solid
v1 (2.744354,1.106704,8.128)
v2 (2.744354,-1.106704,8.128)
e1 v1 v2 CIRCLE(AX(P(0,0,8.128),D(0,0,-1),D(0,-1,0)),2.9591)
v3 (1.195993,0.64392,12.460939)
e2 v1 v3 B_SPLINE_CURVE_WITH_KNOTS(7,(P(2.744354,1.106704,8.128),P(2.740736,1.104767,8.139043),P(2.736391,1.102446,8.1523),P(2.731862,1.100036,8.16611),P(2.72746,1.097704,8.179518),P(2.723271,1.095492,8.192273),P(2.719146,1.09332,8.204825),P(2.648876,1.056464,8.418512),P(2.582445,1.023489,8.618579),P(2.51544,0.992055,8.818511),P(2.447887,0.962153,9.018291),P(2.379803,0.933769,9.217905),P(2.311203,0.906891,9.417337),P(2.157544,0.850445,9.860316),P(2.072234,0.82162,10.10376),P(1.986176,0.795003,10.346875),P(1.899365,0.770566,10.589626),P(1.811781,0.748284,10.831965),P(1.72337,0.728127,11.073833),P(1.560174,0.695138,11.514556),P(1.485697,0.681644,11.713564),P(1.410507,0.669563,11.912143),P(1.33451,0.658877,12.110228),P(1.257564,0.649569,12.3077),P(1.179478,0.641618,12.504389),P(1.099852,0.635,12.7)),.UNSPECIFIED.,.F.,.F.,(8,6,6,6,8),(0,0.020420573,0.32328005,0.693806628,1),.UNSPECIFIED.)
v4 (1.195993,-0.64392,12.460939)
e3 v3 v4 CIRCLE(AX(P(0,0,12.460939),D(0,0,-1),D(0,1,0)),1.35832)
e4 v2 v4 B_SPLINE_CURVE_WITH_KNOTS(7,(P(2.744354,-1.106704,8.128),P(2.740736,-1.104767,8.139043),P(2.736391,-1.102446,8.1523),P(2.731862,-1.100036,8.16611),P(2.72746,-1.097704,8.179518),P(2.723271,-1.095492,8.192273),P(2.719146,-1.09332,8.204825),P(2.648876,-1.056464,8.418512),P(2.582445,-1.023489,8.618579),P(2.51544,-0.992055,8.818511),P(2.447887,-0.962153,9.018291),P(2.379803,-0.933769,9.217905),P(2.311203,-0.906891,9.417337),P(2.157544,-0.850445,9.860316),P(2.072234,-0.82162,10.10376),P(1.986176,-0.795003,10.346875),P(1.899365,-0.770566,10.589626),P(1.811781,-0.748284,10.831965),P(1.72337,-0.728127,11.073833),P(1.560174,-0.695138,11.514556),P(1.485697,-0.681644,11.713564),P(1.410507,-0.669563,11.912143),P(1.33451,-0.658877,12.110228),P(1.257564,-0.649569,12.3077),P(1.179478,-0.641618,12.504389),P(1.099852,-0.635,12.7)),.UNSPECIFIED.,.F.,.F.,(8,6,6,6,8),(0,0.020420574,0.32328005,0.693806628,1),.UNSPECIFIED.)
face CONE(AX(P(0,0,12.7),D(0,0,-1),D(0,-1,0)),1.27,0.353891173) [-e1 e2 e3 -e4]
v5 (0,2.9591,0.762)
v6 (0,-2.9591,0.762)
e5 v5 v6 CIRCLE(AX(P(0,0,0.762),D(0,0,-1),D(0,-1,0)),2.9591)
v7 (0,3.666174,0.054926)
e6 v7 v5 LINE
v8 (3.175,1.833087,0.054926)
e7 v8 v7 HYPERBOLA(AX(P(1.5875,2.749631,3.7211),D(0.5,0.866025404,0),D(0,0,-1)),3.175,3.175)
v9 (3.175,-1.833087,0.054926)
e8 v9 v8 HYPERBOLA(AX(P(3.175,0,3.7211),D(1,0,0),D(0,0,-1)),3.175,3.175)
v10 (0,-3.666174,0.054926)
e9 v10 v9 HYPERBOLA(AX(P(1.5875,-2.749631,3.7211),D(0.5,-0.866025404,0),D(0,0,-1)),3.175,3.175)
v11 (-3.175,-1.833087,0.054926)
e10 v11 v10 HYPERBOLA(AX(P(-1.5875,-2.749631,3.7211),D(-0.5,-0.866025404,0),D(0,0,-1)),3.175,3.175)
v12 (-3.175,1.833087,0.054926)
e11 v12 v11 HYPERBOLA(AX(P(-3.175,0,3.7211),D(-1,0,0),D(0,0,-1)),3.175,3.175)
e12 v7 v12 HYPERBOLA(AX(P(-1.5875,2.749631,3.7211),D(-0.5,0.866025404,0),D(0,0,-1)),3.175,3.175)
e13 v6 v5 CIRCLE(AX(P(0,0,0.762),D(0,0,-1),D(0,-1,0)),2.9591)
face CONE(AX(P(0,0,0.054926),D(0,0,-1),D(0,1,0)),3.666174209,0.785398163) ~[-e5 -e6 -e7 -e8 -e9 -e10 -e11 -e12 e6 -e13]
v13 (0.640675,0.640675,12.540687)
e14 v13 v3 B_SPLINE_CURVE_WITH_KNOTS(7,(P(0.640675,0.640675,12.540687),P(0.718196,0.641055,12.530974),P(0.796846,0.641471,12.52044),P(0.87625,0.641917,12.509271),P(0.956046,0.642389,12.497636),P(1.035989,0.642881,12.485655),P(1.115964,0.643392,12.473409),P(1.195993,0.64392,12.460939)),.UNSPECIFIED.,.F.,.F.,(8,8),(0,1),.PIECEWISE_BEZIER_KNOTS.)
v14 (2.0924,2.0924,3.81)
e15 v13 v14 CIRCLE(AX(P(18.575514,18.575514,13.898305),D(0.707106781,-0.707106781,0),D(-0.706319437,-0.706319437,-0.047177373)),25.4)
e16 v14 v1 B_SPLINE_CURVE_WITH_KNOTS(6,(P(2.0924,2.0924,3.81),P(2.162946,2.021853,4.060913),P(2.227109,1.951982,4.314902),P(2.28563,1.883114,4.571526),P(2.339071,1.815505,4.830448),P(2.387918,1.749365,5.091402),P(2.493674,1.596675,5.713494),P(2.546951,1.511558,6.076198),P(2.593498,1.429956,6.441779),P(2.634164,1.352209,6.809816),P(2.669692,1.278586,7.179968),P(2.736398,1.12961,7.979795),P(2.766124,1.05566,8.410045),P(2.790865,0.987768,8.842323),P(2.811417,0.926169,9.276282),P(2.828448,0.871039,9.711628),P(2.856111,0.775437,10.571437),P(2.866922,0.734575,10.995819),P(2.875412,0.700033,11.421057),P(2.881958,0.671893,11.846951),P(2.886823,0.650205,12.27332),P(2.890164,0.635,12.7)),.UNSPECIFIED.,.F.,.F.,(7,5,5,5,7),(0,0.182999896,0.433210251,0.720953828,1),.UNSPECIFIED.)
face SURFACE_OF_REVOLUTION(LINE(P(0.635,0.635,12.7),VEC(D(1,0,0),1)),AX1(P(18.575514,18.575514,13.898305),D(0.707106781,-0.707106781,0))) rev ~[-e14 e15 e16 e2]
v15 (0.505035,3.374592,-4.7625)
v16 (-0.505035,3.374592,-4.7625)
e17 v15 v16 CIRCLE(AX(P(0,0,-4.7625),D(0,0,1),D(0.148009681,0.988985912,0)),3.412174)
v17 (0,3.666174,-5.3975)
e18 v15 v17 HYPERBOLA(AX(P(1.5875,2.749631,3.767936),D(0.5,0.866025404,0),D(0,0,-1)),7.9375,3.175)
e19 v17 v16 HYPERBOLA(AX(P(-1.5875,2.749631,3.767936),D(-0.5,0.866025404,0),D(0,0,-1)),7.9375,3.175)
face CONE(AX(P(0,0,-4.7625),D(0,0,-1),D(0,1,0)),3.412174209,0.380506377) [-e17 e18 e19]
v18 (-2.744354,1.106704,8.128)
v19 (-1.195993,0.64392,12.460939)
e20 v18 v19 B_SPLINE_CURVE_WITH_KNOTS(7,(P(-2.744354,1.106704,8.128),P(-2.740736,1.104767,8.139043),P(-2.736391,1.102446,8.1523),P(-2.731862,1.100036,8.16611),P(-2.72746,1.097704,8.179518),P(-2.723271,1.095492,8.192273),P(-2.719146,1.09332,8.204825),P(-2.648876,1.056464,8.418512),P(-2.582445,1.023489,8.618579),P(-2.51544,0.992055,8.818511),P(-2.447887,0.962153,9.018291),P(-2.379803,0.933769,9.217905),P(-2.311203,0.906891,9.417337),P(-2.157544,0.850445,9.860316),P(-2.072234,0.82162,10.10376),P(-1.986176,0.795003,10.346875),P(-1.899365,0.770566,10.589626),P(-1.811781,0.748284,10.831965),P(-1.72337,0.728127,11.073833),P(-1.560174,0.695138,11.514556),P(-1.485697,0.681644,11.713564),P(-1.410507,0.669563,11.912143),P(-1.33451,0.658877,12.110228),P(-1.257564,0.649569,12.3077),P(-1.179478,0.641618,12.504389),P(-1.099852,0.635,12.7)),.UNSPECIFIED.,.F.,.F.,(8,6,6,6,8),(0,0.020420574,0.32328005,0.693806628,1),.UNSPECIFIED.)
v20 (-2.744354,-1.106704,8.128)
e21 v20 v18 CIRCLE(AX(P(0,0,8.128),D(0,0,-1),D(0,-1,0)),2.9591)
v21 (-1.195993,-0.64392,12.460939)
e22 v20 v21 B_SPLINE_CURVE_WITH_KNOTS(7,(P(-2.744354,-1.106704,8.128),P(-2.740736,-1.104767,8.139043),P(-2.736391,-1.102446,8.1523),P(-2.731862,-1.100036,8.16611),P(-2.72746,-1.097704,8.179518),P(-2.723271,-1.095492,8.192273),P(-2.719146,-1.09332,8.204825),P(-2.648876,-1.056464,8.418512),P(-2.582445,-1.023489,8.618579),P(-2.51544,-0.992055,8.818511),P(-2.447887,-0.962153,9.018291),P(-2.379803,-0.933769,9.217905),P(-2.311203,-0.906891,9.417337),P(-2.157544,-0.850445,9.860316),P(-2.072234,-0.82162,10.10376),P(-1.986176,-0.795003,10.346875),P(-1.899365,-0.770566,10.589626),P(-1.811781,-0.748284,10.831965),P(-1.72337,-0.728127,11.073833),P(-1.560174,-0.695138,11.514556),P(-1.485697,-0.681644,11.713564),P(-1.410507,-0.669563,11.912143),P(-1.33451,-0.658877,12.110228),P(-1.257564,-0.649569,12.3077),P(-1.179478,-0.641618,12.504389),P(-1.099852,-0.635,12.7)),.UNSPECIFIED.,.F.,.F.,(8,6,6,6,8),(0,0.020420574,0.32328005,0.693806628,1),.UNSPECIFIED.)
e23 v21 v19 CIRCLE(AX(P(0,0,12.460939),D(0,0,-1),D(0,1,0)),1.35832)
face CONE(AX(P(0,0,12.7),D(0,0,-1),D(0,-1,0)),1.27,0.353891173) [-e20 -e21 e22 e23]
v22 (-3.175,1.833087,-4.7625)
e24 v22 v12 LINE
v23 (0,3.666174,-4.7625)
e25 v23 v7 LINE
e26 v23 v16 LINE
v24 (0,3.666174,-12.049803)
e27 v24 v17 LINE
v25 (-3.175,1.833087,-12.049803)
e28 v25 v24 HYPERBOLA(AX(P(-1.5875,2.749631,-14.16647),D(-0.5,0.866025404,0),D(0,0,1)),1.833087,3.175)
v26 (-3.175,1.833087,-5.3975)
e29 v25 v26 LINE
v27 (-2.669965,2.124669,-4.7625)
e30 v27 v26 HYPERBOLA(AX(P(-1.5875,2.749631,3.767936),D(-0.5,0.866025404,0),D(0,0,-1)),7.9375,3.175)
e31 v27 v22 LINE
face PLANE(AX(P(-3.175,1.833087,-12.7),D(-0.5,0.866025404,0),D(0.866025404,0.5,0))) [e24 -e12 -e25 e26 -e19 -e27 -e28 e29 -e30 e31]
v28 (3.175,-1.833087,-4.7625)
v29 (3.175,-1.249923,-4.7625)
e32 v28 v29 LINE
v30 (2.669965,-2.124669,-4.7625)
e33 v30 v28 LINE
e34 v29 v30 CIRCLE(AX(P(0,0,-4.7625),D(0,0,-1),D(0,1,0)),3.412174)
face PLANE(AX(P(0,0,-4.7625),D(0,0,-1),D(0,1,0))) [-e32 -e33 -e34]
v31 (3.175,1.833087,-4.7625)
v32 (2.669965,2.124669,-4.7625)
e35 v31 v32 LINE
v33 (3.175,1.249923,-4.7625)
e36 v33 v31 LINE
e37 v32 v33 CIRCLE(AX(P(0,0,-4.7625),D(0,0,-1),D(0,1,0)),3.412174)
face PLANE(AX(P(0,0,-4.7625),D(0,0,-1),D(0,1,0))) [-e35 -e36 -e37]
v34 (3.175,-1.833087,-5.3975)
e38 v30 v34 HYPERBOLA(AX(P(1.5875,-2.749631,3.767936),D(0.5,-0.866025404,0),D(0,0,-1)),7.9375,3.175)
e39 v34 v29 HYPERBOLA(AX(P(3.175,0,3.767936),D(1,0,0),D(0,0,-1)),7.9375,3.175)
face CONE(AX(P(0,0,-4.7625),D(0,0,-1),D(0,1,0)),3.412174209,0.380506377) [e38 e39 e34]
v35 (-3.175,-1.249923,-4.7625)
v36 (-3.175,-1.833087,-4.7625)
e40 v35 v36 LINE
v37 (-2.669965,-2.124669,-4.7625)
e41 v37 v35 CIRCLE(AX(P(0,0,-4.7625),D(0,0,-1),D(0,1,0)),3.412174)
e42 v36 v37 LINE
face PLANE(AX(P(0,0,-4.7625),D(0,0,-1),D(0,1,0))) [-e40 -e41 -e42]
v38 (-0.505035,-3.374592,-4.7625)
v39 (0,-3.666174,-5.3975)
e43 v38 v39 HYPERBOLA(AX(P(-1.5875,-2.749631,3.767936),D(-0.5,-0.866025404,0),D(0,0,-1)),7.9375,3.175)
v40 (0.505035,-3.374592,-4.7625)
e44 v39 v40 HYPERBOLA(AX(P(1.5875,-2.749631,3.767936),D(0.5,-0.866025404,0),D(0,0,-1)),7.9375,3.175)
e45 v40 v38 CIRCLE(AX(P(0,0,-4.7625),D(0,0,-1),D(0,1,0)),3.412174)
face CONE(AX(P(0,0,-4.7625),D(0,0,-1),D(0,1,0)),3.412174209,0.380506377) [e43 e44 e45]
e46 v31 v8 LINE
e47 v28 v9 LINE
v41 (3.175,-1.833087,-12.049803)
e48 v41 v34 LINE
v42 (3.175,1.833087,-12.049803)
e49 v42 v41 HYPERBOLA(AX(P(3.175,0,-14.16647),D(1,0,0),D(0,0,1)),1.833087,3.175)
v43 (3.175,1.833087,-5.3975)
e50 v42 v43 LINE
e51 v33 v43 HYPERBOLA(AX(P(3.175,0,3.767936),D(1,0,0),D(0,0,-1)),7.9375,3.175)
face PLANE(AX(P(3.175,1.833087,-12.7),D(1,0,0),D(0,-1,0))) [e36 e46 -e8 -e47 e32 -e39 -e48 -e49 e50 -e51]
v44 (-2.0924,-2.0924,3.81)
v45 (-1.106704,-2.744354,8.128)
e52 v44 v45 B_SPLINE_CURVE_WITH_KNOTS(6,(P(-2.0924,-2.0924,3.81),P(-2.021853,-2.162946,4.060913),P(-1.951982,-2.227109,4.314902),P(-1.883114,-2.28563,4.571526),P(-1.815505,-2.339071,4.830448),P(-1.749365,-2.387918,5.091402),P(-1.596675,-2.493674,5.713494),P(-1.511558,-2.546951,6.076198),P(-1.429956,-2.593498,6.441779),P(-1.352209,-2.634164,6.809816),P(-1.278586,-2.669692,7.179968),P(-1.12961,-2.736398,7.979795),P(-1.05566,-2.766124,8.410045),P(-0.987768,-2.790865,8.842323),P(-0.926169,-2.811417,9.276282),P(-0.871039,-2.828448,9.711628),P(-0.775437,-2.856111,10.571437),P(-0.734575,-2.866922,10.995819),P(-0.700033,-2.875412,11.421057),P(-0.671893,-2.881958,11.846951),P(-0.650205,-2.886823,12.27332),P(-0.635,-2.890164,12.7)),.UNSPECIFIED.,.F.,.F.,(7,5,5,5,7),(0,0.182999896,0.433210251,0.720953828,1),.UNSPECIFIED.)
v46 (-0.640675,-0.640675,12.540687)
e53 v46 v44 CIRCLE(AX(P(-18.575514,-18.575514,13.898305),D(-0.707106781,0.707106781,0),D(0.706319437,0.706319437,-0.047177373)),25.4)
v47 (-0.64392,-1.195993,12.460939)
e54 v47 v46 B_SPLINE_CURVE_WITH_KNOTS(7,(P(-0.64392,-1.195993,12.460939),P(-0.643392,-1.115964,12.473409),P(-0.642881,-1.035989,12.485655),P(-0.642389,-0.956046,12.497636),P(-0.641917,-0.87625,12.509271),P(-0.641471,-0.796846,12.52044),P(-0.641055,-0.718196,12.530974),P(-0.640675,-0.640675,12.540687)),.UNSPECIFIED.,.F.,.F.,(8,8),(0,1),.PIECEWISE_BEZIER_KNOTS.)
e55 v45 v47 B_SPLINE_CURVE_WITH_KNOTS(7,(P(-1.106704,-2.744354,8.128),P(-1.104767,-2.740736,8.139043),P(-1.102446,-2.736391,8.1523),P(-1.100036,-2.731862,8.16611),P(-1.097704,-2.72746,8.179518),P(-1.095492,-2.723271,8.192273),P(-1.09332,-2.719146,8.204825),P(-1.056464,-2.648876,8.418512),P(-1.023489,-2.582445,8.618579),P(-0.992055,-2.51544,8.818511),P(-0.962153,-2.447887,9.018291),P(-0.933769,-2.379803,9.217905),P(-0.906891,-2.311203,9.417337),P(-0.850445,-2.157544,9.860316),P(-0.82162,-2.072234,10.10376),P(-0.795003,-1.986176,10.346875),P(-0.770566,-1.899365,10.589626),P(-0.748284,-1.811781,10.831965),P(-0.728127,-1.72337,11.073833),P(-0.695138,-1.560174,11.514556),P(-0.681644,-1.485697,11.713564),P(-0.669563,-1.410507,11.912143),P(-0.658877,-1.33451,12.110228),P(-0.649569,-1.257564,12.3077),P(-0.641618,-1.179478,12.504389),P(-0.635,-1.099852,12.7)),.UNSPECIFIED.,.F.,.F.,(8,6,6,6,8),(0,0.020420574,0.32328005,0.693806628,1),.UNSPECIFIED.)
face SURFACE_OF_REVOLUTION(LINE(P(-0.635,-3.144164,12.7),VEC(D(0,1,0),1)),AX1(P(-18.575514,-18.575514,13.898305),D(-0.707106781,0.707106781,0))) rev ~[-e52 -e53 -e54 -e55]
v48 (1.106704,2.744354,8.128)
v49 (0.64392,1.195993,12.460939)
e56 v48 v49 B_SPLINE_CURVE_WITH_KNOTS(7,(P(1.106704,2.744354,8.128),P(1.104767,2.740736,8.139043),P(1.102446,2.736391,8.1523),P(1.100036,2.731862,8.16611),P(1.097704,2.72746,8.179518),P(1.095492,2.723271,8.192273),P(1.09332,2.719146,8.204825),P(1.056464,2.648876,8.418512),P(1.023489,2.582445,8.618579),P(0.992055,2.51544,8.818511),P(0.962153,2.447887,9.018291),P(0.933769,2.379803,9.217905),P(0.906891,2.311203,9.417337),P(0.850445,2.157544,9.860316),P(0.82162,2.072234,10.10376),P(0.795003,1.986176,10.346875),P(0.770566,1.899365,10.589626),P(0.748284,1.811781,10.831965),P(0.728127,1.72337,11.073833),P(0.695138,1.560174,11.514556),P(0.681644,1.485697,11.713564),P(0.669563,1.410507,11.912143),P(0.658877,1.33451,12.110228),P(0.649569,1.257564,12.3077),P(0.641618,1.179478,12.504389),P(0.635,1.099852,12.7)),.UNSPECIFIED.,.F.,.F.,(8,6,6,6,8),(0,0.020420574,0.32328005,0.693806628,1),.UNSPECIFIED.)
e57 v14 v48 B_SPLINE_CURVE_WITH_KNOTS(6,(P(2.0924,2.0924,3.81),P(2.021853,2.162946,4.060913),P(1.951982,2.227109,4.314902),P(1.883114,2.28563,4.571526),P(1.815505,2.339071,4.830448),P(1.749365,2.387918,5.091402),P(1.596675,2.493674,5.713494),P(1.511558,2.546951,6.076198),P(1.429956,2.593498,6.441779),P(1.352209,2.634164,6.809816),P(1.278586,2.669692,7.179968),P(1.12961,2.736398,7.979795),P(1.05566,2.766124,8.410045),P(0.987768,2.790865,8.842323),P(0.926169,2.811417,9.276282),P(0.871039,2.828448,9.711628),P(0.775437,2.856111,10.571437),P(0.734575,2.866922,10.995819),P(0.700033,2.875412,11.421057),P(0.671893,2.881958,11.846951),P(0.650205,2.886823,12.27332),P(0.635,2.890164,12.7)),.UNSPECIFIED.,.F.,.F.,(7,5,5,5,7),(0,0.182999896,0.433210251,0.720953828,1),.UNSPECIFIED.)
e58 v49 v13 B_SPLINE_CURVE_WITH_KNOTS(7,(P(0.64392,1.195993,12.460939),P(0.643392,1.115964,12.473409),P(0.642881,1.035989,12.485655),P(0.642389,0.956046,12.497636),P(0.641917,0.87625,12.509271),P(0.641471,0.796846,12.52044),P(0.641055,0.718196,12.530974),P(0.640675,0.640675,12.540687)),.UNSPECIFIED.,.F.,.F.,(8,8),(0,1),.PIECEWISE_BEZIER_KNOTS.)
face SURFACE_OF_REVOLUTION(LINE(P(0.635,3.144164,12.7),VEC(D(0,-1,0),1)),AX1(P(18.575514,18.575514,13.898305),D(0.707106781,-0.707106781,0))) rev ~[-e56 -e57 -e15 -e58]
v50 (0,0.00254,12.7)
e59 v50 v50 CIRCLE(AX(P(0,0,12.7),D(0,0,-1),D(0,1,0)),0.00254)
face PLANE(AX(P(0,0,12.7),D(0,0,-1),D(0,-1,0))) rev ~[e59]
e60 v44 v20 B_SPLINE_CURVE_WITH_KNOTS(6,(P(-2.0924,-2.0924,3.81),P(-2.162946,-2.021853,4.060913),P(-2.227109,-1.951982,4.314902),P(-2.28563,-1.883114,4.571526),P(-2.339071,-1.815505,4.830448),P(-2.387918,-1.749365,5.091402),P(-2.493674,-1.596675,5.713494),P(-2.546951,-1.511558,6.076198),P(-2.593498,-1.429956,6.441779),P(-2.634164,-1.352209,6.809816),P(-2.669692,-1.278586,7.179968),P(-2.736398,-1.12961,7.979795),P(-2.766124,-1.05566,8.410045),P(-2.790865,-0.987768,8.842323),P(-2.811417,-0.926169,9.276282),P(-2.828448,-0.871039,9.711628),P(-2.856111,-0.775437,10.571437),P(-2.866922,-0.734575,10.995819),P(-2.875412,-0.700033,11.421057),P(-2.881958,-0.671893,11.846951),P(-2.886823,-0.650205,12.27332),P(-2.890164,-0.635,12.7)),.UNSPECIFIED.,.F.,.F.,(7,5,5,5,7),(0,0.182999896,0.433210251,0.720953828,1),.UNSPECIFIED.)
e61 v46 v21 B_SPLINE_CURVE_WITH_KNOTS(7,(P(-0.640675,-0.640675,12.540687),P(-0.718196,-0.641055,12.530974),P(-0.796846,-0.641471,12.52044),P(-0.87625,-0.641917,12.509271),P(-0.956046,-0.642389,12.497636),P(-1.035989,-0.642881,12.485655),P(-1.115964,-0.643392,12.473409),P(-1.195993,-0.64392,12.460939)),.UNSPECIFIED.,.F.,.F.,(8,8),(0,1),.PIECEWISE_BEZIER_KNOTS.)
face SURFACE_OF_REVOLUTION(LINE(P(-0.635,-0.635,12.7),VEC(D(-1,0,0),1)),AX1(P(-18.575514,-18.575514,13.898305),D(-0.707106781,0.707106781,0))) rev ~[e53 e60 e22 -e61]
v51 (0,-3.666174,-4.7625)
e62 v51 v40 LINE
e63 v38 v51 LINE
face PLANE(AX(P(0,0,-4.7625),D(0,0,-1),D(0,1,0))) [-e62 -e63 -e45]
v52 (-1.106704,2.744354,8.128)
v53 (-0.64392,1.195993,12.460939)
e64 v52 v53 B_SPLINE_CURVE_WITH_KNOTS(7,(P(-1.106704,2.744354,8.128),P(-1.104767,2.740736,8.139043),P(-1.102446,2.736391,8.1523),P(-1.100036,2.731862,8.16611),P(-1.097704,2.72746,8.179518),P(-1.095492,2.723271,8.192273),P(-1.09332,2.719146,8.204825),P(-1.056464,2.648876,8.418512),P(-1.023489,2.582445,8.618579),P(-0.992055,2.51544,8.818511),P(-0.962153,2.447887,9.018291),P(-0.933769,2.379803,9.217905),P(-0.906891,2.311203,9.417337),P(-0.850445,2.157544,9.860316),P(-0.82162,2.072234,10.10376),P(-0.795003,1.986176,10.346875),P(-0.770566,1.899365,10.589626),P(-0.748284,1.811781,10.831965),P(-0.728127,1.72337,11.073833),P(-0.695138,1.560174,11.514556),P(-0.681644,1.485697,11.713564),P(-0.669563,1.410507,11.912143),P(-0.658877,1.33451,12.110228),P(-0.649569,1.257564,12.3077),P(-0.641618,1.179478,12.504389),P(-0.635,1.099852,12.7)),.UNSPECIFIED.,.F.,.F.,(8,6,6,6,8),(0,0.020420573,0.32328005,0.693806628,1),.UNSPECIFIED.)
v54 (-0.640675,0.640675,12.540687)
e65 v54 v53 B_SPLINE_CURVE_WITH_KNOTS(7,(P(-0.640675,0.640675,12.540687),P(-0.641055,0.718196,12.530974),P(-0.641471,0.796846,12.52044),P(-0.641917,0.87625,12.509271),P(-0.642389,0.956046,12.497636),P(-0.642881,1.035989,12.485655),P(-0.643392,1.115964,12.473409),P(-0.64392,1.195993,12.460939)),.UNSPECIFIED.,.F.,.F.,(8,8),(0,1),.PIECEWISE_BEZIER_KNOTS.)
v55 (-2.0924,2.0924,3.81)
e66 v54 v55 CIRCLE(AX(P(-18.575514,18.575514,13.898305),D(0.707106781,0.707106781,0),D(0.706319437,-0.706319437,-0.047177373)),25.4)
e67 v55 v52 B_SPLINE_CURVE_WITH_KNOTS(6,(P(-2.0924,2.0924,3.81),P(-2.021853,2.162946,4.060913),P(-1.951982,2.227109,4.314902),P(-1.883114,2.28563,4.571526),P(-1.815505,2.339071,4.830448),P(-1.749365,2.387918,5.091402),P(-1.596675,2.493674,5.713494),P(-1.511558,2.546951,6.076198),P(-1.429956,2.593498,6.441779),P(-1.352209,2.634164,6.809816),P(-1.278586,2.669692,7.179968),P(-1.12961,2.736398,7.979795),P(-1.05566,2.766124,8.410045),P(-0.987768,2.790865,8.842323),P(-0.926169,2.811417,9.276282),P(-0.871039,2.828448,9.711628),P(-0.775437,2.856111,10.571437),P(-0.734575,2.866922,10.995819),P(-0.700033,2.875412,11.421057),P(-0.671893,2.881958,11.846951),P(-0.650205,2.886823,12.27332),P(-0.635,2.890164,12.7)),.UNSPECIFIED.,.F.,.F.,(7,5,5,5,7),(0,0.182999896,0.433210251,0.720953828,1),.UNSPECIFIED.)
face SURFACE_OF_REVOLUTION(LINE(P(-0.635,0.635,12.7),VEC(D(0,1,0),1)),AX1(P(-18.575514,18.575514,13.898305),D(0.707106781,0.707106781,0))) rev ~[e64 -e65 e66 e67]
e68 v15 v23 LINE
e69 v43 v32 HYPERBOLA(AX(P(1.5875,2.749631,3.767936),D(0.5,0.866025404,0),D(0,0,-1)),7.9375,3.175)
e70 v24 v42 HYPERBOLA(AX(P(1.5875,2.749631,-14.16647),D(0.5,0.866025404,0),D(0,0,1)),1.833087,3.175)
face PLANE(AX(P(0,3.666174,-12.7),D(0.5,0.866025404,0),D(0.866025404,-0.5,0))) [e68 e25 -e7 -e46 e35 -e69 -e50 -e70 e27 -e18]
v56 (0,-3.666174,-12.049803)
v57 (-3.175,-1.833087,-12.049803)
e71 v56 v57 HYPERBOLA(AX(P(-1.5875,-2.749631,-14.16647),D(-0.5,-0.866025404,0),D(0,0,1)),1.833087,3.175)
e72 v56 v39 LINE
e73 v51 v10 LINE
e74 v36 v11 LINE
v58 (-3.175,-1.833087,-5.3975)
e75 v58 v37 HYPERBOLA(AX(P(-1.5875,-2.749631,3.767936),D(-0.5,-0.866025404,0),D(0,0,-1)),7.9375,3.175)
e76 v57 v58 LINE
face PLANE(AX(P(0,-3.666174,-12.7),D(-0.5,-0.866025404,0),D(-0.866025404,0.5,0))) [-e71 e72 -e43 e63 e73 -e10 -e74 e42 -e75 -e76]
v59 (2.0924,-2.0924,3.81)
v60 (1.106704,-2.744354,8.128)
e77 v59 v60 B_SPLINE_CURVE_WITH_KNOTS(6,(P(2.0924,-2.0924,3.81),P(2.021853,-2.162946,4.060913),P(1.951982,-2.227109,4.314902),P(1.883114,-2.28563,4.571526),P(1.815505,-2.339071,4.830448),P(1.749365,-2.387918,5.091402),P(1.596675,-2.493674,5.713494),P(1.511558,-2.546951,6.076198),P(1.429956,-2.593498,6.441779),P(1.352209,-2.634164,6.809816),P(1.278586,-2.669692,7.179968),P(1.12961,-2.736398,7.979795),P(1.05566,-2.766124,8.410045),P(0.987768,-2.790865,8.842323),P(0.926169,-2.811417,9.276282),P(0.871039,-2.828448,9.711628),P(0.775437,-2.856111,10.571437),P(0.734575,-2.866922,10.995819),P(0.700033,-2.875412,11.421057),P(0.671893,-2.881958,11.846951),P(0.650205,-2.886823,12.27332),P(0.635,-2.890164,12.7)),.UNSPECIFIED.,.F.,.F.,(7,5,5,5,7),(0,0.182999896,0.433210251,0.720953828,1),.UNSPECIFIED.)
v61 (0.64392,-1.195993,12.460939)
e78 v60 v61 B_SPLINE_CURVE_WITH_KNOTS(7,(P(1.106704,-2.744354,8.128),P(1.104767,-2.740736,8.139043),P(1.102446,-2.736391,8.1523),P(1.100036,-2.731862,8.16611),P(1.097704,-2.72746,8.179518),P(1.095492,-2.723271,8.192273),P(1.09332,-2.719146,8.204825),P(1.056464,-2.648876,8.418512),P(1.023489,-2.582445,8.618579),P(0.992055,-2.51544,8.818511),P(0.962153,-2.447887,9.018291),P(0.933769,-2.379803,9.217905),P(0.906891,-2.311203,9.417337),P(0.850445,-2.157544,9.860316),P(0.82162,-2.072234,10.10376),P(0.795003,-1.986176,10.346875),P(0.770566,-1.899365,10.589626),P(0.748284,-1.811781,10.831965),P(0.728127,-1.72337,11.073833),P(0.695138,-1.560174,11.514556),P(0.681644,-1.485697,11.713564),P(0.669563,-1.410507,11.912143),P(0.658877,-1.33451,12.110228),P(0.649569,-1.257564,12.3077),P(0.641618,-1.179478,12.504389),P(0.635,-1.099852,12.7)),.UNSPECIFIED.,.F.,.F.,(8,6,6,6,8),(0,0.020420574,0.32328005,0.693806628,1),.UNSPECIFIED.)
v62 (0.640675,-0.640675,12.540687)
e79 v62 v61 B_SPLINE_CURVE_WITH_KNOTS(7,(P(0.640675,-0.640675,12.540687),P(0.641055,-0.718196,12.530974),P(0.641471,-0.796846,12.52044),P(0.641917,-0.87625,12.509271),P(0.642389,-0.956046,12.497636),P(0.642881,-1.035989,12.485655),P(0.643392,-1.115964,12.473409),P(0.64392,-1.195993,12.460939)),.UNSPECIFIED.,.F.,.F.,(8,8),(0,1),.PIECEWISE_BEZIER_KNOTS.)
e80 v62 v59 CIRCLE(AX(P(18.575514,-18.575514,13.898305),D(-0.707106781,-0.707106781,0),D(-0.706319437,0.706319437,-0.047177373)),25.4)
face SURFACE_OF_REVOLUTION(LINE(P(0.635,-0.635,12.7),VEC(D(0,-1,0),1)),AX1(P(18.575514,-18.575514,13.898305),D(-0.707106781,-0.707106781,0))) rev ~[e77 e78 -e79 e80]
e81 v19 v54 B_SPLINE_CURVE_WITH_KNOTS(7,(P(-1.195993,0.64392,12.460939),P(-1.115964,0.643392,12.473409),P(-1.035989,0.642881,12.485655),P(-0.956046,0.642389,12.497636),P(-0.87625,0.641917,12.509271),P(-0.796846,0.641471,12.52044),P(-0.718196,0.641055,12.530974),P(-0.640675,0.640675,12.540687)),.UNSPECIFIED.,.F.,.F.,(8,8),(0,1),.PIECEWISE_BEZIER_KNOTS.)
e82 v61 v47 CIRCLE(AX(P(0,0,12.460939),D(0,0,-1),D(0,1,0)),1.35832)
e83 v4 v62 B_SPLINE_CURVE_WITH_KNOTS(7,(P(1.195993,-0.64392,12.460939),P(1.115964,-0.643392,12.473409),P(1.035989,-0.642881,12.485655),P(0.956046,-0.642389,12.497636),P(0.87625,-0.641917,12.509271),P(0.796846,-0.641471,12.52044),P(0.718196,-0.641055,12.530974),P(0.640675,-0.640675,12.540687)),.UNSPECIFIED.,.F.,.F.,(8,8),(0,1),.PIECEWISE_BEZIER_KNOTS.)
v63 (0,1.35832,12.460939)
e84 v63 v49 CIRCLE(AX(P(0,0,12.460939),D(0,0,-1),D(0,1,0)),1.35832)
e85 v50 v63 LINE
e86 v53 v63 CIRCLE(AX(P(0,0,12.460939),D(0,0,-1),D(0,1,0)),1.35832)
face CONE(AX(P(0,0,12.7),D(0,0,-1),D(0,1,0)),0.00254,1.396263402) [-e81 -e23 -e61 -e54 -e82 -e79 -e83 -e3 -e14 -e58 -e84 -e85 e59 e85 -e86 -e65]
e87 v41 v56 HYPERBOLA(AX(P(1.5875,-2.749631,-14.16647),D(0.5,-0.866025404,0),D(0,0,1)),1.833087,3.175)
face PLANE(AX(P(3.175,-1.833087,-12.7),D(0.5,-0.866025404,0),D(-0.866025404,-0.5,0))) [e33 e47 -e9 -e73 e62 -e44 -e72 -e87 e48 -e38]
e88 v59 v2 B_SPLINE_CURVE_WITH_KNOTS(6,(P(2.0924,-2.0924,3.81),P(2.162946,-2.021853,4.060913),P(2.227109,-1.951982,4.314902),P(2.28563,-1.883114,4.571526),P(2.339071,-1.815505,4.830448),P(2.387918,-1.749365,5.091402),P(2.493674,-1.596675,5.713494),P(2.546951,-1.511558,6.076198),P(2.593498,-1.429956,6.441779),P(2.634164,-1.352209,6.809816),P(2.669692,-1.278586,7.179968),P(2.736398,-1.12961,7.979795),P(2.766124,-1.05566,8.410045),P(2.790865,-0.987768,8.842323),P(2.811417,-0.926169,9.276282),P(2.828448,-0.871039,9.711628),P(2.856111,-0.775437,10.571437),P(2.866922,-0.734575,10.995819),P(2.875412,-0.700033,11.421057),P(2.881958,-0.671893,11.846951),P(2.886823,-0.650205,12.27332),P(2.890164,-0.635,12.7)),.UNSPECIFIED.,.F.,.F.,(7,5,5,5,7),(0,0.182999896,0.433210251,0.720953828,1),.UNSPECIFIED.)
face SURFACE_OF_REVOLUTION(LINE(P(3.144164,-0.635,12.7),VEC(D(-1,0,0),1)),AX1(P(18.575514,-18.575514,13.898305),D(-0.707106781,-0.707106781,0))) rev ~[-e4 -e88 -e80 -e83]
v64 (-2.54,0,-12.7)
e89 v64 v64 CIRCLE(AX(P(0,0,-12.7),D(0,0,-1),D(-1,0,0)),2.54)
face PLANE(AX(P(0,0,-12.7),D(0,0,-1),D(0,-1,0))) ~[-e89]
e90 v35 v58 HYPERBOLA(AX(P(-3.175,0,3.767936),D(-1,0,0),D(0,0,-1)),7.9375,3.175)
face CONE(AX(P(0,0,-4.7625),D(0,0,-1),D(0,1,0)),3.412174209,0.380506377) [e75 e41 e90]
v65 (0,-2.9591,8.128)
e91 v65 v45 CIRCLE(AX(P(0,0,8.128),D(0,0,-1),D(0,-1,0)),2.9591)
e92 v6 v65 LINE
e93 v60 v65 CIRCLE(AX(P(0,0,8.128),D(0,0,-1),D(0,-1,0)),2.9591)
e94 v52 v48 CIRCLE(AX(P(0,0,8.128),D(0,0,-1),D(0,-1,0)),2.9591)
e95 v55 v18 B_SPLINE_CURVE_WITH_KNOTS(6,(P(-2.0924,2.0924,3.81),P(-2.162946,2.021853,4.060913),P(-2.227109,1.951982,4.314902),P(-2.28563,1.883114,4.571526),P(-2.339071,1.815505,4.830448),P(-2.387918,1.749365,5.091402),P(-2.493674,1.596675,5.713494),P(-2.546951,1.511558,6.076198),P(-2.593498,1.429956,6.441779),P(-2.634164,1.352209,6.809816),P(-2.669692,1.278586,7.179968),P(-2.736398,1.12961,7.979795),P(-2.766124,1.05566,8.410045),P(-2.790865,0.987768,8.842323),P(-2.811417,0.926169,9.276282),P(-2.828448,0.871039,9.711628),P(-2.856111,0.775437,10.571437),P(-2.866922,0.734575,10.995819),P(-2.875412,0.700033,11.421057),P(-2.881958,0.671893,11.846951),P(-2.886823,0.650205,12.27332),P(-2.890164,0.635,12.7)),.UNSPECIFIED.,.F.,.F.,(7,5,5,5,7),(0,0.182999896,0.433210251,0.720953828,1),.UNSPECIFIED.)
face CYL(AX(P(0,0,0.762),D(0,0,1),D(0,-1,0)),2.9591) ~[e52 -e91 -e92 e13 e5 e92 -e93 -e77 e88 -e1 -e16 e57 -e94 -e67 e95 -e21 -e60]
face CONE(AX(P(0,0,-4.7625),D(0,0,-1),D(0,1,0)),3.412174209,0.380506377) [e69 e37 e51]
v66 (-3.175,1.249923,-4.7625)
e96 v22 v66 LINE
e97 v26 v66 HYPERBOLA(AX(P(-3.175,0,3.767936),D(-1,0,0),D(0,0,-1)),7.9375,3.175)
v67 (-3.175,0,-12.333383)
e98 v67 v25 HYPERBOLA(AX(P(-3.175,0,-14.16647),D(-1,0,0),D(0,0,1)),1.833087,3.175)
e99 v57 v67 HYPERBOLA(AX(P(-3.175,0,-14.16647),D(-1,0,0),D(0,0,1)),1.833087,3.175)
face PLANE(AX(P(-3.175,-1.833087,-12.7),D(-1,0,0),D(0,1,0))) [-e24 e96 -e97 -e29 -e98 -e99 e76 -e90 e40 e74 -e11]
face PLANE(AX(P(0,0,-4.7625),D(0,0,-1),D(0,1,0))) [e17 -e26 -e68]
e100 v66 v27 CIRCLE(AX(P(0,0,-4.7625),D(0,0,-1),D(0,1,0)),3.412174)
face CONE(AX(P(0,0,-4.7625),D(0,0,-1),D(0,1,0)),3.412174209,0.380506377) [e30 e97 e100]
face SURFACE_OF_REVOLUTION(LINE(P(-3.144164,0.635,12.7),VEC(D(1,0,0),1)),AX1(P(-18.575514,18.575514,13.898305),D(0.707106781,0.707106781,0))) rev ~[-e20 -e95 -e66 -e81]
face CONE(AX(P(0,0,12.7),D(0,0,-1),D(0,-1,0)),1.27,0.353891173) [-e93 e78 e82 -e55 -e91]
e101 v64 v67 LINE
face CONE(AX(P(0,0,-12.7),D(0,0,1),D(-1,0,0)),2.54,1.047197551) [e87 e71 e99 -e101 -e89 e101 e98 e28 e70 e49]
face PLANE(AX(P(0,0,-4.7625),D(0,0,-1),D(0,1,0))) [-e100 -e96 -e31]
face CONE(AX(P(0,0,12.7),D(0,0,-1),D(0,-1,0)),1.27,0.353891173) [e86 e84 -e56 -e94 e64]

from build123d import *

# Parameters (mm, degrees)
SKETCH4_OUTSIDE_W  = 15.138
SKETCH4_OUTSIDE_H  = 15.138
CUT_EXTRUDE1_DEPTH = 13.462
SKETCH6_OUTSIDE_W  = 22.586
SKETCH6_OUTSIDE_H  = 23.568
SKETCH6_OUTSIDE_R  = 2.54
CUT_EXTRUDE6_DEPTH = 2.54
CUT_EXTRUDE6_DRAFT = -60
CIRPATTERN3_COUNT  = 4


with BuildPart() as part:
    # Sketch3 → Revolve1 (revolve)
    with BuildSketch(Plane(origin=(0, 0, 0), x_dir=(0, 0, -1), z_dir=(1, 0, 0)), mode=Mode.PRIVATE) as revolve1_sk:
        Polygon((-12.7, 0), (12.7, 0), (12.7, 3.81), (-0.762, 3.81), (-0.762, 2.9591), (-12.7, 2.9591), align=None)
    revolve(revolve1_sk.sketch.rotate(Axis((0, 0, 12.7), (0, 0, -1)), 180), axis=Axis((0, 0, 12.7), (0, 0, -1)))

    # Sketch4 outside → Cut-Extrude1 (cut)
    with BuildSketch(Plane(origin=(0, 0, -12.7), x_dir=(-1, 0, 0), z_dir=(0, 0, -1))):
        Rectangle(SKETCH4_OUTSIDE_W, SKETCH4_OUTSIDE_H)
        Polygon((3.175, 1.833087105), (0, 3.666174209), (-3.175, 1.833087105), (-3.175, -1.833087105), (0, -3.666174209), (3.175, -1.833087105), align=None, mode=Mode.SUBTRACT)
    extrude(amount=-CUT_EXTRUDE1_DEPTH, mode=Mode.SUBTRACT)


with BuildPart() as cut_extrude6_tool:
    # Sketch6 outside → Cut-Extrude6 (with draft: the straight prism first)
    with BuildSketch(Plane(origin=(0, 0, -12.7), x_dir=(-1, 0, 0), z_dir=(0, 0, -1))):
        Rectangle(SKETCH6_OUTSIDE_W, SKETCH6_OUTSIDE_H)
        Circle(SKETCH6_OUTSIDE_R, mode=Mode.SUBTRACT)
    extrude(amount=-CUT_EXTRUDE6_DEPTH)
    # Cut-Extrude6: the draft: its side faces are tilted about the plane it starts from
    cut_extrude6_sides = [cut_extrude6_tool.faces().sort_by_distance(p)[0] for p in [
        (0, -11.784, -11.43),
        (-11.293, 0, -11.43),
        (0, 11.784, -11.43),
        (11.293, 0, -11.43),
        (2.54, 0, -11.43),
    ]]
    draft(cut_extrude6_sides, Plane(origin=(0, 0, -12.7), x_dir=(-1, 0, 0), z_dir=(0, 0, -1)), CUT_EXTRUDE6_DRAFT)


with BuildPart() as part_1:
    add(part.part)

    # Cut-Extrude6: cut by cut_extrude6_tool
    add(cut_extrude6_tool.part, mode=Mode.SUBTRACT)

    # Sketch12 → Cut-Revolve2 (revolve, cut)
    with BuildSketch(Plane(origin=(0, 0, 0), x_dir=(0, 0, -1), z_dir=(1, 0, 0))):
        Polygon((-0.762, 2.9591), (-0.762, 3.666174209), (-0.054925791, 3.666174209), align=None)
    revolve(axis=Axis((0, 0, 12.7), (0, 0, -1)), mode=Mode.SUBTRACT)

    # Cut-Sweep3: sweep along a path in Sketch10
    with BuildLine(Plane(origin=(0, 0, 0), x_dir=(0, 0, -1), z_dir=(0.7071067811865464, -0.7071067811865488, 0))) as cut_sweep3_path:
        ThreePointArc((-12.7, 0.898025612), (-8.161677229, 1.526035155), (-3.81, 2.9591))
    # Sketch7 → Cut-Sweep3 (sweep, cut)
    with BuildSketch(Plane.XY.offset(12.7)):
        with BuildLine():
            Line((0.635, 3.144163976), (0.635, 0.635))
            Line((0.635, 0.635), (3.144163976, 0.635))
            ThreePointArc((3.144163976, 0.635), (2.268148155, 2.268148155), (0.635, 3.144163976))
        make_face()
    cut_sweep3 = sweep(path=cut_sweep3_path.line, mode=Mode.SUBTRACT)

    # CirPattern3: Cut-Sweep3 ×4 about axis
    cirpattern3_axis = Axis((0, 0, 12.7), (0, 0, -1))
    for i in range(1, CIRPATTERN3_COUNT):
        add(cut_sweep3.rotate(cirpattern3_axis, i * 360 / CIRPATTERN3_COUNT), mode=Mode.SUBTRACT)

    # Sketch11 → Cut-Revolve1 (revolve, cut)
    with BuildSketch(Plane(origin=(0, 0, 0), x_dir=(1, 0, 0), z_dir=(0, 1, 0)), mode=Mode.PRIVATE) as cut_revolve1_sk:
        Polygon((1.27, -12.7), (2.9591, -8.128), (2.9591, -12.7), align=None)
    revolve(cut_revolve1_sk.sketch.rotate(Axis((0, 0, 12.7), (0, 0, -1)), 90), axis=Axis((0, 0, 12.7), (0, 0, -1)), mode=Mode.SUBTRACT)

    # Sketch13 → Cut-Revolve4 (revolve, cut)
    with BuildSketch(Plane(origin=(0, 0, 0), x_dir=(0, 0, -1), z_dir=(1, 0, 0))):
        Polygon((-12.7, 0.00254), (-12.46093948, 1.358319581), (-12.7, 1.358319581), align=None)
    revolve(axis=Axis((0, 0, 12.7), (0, 0, -1)), mode=Mode.SUBTRACT)

    # Sketch16 → Cut-Revolve5 (revolve, cut)
    with BuildSketch(Plane(origin=(0, 0, 0), x_dir=(0, 0, -1), z_dir=(1, 0, 0))):
        Polygon((4.7625, 3.666174209), (4.7625, 3.412174209), (5.3975, 3.666174209), align=None)
    revolve(axis=Axis((0, 0, 12.7), (0, 0, -1)), mode=Mode.SUBTRACT)


solid = part_1.part
